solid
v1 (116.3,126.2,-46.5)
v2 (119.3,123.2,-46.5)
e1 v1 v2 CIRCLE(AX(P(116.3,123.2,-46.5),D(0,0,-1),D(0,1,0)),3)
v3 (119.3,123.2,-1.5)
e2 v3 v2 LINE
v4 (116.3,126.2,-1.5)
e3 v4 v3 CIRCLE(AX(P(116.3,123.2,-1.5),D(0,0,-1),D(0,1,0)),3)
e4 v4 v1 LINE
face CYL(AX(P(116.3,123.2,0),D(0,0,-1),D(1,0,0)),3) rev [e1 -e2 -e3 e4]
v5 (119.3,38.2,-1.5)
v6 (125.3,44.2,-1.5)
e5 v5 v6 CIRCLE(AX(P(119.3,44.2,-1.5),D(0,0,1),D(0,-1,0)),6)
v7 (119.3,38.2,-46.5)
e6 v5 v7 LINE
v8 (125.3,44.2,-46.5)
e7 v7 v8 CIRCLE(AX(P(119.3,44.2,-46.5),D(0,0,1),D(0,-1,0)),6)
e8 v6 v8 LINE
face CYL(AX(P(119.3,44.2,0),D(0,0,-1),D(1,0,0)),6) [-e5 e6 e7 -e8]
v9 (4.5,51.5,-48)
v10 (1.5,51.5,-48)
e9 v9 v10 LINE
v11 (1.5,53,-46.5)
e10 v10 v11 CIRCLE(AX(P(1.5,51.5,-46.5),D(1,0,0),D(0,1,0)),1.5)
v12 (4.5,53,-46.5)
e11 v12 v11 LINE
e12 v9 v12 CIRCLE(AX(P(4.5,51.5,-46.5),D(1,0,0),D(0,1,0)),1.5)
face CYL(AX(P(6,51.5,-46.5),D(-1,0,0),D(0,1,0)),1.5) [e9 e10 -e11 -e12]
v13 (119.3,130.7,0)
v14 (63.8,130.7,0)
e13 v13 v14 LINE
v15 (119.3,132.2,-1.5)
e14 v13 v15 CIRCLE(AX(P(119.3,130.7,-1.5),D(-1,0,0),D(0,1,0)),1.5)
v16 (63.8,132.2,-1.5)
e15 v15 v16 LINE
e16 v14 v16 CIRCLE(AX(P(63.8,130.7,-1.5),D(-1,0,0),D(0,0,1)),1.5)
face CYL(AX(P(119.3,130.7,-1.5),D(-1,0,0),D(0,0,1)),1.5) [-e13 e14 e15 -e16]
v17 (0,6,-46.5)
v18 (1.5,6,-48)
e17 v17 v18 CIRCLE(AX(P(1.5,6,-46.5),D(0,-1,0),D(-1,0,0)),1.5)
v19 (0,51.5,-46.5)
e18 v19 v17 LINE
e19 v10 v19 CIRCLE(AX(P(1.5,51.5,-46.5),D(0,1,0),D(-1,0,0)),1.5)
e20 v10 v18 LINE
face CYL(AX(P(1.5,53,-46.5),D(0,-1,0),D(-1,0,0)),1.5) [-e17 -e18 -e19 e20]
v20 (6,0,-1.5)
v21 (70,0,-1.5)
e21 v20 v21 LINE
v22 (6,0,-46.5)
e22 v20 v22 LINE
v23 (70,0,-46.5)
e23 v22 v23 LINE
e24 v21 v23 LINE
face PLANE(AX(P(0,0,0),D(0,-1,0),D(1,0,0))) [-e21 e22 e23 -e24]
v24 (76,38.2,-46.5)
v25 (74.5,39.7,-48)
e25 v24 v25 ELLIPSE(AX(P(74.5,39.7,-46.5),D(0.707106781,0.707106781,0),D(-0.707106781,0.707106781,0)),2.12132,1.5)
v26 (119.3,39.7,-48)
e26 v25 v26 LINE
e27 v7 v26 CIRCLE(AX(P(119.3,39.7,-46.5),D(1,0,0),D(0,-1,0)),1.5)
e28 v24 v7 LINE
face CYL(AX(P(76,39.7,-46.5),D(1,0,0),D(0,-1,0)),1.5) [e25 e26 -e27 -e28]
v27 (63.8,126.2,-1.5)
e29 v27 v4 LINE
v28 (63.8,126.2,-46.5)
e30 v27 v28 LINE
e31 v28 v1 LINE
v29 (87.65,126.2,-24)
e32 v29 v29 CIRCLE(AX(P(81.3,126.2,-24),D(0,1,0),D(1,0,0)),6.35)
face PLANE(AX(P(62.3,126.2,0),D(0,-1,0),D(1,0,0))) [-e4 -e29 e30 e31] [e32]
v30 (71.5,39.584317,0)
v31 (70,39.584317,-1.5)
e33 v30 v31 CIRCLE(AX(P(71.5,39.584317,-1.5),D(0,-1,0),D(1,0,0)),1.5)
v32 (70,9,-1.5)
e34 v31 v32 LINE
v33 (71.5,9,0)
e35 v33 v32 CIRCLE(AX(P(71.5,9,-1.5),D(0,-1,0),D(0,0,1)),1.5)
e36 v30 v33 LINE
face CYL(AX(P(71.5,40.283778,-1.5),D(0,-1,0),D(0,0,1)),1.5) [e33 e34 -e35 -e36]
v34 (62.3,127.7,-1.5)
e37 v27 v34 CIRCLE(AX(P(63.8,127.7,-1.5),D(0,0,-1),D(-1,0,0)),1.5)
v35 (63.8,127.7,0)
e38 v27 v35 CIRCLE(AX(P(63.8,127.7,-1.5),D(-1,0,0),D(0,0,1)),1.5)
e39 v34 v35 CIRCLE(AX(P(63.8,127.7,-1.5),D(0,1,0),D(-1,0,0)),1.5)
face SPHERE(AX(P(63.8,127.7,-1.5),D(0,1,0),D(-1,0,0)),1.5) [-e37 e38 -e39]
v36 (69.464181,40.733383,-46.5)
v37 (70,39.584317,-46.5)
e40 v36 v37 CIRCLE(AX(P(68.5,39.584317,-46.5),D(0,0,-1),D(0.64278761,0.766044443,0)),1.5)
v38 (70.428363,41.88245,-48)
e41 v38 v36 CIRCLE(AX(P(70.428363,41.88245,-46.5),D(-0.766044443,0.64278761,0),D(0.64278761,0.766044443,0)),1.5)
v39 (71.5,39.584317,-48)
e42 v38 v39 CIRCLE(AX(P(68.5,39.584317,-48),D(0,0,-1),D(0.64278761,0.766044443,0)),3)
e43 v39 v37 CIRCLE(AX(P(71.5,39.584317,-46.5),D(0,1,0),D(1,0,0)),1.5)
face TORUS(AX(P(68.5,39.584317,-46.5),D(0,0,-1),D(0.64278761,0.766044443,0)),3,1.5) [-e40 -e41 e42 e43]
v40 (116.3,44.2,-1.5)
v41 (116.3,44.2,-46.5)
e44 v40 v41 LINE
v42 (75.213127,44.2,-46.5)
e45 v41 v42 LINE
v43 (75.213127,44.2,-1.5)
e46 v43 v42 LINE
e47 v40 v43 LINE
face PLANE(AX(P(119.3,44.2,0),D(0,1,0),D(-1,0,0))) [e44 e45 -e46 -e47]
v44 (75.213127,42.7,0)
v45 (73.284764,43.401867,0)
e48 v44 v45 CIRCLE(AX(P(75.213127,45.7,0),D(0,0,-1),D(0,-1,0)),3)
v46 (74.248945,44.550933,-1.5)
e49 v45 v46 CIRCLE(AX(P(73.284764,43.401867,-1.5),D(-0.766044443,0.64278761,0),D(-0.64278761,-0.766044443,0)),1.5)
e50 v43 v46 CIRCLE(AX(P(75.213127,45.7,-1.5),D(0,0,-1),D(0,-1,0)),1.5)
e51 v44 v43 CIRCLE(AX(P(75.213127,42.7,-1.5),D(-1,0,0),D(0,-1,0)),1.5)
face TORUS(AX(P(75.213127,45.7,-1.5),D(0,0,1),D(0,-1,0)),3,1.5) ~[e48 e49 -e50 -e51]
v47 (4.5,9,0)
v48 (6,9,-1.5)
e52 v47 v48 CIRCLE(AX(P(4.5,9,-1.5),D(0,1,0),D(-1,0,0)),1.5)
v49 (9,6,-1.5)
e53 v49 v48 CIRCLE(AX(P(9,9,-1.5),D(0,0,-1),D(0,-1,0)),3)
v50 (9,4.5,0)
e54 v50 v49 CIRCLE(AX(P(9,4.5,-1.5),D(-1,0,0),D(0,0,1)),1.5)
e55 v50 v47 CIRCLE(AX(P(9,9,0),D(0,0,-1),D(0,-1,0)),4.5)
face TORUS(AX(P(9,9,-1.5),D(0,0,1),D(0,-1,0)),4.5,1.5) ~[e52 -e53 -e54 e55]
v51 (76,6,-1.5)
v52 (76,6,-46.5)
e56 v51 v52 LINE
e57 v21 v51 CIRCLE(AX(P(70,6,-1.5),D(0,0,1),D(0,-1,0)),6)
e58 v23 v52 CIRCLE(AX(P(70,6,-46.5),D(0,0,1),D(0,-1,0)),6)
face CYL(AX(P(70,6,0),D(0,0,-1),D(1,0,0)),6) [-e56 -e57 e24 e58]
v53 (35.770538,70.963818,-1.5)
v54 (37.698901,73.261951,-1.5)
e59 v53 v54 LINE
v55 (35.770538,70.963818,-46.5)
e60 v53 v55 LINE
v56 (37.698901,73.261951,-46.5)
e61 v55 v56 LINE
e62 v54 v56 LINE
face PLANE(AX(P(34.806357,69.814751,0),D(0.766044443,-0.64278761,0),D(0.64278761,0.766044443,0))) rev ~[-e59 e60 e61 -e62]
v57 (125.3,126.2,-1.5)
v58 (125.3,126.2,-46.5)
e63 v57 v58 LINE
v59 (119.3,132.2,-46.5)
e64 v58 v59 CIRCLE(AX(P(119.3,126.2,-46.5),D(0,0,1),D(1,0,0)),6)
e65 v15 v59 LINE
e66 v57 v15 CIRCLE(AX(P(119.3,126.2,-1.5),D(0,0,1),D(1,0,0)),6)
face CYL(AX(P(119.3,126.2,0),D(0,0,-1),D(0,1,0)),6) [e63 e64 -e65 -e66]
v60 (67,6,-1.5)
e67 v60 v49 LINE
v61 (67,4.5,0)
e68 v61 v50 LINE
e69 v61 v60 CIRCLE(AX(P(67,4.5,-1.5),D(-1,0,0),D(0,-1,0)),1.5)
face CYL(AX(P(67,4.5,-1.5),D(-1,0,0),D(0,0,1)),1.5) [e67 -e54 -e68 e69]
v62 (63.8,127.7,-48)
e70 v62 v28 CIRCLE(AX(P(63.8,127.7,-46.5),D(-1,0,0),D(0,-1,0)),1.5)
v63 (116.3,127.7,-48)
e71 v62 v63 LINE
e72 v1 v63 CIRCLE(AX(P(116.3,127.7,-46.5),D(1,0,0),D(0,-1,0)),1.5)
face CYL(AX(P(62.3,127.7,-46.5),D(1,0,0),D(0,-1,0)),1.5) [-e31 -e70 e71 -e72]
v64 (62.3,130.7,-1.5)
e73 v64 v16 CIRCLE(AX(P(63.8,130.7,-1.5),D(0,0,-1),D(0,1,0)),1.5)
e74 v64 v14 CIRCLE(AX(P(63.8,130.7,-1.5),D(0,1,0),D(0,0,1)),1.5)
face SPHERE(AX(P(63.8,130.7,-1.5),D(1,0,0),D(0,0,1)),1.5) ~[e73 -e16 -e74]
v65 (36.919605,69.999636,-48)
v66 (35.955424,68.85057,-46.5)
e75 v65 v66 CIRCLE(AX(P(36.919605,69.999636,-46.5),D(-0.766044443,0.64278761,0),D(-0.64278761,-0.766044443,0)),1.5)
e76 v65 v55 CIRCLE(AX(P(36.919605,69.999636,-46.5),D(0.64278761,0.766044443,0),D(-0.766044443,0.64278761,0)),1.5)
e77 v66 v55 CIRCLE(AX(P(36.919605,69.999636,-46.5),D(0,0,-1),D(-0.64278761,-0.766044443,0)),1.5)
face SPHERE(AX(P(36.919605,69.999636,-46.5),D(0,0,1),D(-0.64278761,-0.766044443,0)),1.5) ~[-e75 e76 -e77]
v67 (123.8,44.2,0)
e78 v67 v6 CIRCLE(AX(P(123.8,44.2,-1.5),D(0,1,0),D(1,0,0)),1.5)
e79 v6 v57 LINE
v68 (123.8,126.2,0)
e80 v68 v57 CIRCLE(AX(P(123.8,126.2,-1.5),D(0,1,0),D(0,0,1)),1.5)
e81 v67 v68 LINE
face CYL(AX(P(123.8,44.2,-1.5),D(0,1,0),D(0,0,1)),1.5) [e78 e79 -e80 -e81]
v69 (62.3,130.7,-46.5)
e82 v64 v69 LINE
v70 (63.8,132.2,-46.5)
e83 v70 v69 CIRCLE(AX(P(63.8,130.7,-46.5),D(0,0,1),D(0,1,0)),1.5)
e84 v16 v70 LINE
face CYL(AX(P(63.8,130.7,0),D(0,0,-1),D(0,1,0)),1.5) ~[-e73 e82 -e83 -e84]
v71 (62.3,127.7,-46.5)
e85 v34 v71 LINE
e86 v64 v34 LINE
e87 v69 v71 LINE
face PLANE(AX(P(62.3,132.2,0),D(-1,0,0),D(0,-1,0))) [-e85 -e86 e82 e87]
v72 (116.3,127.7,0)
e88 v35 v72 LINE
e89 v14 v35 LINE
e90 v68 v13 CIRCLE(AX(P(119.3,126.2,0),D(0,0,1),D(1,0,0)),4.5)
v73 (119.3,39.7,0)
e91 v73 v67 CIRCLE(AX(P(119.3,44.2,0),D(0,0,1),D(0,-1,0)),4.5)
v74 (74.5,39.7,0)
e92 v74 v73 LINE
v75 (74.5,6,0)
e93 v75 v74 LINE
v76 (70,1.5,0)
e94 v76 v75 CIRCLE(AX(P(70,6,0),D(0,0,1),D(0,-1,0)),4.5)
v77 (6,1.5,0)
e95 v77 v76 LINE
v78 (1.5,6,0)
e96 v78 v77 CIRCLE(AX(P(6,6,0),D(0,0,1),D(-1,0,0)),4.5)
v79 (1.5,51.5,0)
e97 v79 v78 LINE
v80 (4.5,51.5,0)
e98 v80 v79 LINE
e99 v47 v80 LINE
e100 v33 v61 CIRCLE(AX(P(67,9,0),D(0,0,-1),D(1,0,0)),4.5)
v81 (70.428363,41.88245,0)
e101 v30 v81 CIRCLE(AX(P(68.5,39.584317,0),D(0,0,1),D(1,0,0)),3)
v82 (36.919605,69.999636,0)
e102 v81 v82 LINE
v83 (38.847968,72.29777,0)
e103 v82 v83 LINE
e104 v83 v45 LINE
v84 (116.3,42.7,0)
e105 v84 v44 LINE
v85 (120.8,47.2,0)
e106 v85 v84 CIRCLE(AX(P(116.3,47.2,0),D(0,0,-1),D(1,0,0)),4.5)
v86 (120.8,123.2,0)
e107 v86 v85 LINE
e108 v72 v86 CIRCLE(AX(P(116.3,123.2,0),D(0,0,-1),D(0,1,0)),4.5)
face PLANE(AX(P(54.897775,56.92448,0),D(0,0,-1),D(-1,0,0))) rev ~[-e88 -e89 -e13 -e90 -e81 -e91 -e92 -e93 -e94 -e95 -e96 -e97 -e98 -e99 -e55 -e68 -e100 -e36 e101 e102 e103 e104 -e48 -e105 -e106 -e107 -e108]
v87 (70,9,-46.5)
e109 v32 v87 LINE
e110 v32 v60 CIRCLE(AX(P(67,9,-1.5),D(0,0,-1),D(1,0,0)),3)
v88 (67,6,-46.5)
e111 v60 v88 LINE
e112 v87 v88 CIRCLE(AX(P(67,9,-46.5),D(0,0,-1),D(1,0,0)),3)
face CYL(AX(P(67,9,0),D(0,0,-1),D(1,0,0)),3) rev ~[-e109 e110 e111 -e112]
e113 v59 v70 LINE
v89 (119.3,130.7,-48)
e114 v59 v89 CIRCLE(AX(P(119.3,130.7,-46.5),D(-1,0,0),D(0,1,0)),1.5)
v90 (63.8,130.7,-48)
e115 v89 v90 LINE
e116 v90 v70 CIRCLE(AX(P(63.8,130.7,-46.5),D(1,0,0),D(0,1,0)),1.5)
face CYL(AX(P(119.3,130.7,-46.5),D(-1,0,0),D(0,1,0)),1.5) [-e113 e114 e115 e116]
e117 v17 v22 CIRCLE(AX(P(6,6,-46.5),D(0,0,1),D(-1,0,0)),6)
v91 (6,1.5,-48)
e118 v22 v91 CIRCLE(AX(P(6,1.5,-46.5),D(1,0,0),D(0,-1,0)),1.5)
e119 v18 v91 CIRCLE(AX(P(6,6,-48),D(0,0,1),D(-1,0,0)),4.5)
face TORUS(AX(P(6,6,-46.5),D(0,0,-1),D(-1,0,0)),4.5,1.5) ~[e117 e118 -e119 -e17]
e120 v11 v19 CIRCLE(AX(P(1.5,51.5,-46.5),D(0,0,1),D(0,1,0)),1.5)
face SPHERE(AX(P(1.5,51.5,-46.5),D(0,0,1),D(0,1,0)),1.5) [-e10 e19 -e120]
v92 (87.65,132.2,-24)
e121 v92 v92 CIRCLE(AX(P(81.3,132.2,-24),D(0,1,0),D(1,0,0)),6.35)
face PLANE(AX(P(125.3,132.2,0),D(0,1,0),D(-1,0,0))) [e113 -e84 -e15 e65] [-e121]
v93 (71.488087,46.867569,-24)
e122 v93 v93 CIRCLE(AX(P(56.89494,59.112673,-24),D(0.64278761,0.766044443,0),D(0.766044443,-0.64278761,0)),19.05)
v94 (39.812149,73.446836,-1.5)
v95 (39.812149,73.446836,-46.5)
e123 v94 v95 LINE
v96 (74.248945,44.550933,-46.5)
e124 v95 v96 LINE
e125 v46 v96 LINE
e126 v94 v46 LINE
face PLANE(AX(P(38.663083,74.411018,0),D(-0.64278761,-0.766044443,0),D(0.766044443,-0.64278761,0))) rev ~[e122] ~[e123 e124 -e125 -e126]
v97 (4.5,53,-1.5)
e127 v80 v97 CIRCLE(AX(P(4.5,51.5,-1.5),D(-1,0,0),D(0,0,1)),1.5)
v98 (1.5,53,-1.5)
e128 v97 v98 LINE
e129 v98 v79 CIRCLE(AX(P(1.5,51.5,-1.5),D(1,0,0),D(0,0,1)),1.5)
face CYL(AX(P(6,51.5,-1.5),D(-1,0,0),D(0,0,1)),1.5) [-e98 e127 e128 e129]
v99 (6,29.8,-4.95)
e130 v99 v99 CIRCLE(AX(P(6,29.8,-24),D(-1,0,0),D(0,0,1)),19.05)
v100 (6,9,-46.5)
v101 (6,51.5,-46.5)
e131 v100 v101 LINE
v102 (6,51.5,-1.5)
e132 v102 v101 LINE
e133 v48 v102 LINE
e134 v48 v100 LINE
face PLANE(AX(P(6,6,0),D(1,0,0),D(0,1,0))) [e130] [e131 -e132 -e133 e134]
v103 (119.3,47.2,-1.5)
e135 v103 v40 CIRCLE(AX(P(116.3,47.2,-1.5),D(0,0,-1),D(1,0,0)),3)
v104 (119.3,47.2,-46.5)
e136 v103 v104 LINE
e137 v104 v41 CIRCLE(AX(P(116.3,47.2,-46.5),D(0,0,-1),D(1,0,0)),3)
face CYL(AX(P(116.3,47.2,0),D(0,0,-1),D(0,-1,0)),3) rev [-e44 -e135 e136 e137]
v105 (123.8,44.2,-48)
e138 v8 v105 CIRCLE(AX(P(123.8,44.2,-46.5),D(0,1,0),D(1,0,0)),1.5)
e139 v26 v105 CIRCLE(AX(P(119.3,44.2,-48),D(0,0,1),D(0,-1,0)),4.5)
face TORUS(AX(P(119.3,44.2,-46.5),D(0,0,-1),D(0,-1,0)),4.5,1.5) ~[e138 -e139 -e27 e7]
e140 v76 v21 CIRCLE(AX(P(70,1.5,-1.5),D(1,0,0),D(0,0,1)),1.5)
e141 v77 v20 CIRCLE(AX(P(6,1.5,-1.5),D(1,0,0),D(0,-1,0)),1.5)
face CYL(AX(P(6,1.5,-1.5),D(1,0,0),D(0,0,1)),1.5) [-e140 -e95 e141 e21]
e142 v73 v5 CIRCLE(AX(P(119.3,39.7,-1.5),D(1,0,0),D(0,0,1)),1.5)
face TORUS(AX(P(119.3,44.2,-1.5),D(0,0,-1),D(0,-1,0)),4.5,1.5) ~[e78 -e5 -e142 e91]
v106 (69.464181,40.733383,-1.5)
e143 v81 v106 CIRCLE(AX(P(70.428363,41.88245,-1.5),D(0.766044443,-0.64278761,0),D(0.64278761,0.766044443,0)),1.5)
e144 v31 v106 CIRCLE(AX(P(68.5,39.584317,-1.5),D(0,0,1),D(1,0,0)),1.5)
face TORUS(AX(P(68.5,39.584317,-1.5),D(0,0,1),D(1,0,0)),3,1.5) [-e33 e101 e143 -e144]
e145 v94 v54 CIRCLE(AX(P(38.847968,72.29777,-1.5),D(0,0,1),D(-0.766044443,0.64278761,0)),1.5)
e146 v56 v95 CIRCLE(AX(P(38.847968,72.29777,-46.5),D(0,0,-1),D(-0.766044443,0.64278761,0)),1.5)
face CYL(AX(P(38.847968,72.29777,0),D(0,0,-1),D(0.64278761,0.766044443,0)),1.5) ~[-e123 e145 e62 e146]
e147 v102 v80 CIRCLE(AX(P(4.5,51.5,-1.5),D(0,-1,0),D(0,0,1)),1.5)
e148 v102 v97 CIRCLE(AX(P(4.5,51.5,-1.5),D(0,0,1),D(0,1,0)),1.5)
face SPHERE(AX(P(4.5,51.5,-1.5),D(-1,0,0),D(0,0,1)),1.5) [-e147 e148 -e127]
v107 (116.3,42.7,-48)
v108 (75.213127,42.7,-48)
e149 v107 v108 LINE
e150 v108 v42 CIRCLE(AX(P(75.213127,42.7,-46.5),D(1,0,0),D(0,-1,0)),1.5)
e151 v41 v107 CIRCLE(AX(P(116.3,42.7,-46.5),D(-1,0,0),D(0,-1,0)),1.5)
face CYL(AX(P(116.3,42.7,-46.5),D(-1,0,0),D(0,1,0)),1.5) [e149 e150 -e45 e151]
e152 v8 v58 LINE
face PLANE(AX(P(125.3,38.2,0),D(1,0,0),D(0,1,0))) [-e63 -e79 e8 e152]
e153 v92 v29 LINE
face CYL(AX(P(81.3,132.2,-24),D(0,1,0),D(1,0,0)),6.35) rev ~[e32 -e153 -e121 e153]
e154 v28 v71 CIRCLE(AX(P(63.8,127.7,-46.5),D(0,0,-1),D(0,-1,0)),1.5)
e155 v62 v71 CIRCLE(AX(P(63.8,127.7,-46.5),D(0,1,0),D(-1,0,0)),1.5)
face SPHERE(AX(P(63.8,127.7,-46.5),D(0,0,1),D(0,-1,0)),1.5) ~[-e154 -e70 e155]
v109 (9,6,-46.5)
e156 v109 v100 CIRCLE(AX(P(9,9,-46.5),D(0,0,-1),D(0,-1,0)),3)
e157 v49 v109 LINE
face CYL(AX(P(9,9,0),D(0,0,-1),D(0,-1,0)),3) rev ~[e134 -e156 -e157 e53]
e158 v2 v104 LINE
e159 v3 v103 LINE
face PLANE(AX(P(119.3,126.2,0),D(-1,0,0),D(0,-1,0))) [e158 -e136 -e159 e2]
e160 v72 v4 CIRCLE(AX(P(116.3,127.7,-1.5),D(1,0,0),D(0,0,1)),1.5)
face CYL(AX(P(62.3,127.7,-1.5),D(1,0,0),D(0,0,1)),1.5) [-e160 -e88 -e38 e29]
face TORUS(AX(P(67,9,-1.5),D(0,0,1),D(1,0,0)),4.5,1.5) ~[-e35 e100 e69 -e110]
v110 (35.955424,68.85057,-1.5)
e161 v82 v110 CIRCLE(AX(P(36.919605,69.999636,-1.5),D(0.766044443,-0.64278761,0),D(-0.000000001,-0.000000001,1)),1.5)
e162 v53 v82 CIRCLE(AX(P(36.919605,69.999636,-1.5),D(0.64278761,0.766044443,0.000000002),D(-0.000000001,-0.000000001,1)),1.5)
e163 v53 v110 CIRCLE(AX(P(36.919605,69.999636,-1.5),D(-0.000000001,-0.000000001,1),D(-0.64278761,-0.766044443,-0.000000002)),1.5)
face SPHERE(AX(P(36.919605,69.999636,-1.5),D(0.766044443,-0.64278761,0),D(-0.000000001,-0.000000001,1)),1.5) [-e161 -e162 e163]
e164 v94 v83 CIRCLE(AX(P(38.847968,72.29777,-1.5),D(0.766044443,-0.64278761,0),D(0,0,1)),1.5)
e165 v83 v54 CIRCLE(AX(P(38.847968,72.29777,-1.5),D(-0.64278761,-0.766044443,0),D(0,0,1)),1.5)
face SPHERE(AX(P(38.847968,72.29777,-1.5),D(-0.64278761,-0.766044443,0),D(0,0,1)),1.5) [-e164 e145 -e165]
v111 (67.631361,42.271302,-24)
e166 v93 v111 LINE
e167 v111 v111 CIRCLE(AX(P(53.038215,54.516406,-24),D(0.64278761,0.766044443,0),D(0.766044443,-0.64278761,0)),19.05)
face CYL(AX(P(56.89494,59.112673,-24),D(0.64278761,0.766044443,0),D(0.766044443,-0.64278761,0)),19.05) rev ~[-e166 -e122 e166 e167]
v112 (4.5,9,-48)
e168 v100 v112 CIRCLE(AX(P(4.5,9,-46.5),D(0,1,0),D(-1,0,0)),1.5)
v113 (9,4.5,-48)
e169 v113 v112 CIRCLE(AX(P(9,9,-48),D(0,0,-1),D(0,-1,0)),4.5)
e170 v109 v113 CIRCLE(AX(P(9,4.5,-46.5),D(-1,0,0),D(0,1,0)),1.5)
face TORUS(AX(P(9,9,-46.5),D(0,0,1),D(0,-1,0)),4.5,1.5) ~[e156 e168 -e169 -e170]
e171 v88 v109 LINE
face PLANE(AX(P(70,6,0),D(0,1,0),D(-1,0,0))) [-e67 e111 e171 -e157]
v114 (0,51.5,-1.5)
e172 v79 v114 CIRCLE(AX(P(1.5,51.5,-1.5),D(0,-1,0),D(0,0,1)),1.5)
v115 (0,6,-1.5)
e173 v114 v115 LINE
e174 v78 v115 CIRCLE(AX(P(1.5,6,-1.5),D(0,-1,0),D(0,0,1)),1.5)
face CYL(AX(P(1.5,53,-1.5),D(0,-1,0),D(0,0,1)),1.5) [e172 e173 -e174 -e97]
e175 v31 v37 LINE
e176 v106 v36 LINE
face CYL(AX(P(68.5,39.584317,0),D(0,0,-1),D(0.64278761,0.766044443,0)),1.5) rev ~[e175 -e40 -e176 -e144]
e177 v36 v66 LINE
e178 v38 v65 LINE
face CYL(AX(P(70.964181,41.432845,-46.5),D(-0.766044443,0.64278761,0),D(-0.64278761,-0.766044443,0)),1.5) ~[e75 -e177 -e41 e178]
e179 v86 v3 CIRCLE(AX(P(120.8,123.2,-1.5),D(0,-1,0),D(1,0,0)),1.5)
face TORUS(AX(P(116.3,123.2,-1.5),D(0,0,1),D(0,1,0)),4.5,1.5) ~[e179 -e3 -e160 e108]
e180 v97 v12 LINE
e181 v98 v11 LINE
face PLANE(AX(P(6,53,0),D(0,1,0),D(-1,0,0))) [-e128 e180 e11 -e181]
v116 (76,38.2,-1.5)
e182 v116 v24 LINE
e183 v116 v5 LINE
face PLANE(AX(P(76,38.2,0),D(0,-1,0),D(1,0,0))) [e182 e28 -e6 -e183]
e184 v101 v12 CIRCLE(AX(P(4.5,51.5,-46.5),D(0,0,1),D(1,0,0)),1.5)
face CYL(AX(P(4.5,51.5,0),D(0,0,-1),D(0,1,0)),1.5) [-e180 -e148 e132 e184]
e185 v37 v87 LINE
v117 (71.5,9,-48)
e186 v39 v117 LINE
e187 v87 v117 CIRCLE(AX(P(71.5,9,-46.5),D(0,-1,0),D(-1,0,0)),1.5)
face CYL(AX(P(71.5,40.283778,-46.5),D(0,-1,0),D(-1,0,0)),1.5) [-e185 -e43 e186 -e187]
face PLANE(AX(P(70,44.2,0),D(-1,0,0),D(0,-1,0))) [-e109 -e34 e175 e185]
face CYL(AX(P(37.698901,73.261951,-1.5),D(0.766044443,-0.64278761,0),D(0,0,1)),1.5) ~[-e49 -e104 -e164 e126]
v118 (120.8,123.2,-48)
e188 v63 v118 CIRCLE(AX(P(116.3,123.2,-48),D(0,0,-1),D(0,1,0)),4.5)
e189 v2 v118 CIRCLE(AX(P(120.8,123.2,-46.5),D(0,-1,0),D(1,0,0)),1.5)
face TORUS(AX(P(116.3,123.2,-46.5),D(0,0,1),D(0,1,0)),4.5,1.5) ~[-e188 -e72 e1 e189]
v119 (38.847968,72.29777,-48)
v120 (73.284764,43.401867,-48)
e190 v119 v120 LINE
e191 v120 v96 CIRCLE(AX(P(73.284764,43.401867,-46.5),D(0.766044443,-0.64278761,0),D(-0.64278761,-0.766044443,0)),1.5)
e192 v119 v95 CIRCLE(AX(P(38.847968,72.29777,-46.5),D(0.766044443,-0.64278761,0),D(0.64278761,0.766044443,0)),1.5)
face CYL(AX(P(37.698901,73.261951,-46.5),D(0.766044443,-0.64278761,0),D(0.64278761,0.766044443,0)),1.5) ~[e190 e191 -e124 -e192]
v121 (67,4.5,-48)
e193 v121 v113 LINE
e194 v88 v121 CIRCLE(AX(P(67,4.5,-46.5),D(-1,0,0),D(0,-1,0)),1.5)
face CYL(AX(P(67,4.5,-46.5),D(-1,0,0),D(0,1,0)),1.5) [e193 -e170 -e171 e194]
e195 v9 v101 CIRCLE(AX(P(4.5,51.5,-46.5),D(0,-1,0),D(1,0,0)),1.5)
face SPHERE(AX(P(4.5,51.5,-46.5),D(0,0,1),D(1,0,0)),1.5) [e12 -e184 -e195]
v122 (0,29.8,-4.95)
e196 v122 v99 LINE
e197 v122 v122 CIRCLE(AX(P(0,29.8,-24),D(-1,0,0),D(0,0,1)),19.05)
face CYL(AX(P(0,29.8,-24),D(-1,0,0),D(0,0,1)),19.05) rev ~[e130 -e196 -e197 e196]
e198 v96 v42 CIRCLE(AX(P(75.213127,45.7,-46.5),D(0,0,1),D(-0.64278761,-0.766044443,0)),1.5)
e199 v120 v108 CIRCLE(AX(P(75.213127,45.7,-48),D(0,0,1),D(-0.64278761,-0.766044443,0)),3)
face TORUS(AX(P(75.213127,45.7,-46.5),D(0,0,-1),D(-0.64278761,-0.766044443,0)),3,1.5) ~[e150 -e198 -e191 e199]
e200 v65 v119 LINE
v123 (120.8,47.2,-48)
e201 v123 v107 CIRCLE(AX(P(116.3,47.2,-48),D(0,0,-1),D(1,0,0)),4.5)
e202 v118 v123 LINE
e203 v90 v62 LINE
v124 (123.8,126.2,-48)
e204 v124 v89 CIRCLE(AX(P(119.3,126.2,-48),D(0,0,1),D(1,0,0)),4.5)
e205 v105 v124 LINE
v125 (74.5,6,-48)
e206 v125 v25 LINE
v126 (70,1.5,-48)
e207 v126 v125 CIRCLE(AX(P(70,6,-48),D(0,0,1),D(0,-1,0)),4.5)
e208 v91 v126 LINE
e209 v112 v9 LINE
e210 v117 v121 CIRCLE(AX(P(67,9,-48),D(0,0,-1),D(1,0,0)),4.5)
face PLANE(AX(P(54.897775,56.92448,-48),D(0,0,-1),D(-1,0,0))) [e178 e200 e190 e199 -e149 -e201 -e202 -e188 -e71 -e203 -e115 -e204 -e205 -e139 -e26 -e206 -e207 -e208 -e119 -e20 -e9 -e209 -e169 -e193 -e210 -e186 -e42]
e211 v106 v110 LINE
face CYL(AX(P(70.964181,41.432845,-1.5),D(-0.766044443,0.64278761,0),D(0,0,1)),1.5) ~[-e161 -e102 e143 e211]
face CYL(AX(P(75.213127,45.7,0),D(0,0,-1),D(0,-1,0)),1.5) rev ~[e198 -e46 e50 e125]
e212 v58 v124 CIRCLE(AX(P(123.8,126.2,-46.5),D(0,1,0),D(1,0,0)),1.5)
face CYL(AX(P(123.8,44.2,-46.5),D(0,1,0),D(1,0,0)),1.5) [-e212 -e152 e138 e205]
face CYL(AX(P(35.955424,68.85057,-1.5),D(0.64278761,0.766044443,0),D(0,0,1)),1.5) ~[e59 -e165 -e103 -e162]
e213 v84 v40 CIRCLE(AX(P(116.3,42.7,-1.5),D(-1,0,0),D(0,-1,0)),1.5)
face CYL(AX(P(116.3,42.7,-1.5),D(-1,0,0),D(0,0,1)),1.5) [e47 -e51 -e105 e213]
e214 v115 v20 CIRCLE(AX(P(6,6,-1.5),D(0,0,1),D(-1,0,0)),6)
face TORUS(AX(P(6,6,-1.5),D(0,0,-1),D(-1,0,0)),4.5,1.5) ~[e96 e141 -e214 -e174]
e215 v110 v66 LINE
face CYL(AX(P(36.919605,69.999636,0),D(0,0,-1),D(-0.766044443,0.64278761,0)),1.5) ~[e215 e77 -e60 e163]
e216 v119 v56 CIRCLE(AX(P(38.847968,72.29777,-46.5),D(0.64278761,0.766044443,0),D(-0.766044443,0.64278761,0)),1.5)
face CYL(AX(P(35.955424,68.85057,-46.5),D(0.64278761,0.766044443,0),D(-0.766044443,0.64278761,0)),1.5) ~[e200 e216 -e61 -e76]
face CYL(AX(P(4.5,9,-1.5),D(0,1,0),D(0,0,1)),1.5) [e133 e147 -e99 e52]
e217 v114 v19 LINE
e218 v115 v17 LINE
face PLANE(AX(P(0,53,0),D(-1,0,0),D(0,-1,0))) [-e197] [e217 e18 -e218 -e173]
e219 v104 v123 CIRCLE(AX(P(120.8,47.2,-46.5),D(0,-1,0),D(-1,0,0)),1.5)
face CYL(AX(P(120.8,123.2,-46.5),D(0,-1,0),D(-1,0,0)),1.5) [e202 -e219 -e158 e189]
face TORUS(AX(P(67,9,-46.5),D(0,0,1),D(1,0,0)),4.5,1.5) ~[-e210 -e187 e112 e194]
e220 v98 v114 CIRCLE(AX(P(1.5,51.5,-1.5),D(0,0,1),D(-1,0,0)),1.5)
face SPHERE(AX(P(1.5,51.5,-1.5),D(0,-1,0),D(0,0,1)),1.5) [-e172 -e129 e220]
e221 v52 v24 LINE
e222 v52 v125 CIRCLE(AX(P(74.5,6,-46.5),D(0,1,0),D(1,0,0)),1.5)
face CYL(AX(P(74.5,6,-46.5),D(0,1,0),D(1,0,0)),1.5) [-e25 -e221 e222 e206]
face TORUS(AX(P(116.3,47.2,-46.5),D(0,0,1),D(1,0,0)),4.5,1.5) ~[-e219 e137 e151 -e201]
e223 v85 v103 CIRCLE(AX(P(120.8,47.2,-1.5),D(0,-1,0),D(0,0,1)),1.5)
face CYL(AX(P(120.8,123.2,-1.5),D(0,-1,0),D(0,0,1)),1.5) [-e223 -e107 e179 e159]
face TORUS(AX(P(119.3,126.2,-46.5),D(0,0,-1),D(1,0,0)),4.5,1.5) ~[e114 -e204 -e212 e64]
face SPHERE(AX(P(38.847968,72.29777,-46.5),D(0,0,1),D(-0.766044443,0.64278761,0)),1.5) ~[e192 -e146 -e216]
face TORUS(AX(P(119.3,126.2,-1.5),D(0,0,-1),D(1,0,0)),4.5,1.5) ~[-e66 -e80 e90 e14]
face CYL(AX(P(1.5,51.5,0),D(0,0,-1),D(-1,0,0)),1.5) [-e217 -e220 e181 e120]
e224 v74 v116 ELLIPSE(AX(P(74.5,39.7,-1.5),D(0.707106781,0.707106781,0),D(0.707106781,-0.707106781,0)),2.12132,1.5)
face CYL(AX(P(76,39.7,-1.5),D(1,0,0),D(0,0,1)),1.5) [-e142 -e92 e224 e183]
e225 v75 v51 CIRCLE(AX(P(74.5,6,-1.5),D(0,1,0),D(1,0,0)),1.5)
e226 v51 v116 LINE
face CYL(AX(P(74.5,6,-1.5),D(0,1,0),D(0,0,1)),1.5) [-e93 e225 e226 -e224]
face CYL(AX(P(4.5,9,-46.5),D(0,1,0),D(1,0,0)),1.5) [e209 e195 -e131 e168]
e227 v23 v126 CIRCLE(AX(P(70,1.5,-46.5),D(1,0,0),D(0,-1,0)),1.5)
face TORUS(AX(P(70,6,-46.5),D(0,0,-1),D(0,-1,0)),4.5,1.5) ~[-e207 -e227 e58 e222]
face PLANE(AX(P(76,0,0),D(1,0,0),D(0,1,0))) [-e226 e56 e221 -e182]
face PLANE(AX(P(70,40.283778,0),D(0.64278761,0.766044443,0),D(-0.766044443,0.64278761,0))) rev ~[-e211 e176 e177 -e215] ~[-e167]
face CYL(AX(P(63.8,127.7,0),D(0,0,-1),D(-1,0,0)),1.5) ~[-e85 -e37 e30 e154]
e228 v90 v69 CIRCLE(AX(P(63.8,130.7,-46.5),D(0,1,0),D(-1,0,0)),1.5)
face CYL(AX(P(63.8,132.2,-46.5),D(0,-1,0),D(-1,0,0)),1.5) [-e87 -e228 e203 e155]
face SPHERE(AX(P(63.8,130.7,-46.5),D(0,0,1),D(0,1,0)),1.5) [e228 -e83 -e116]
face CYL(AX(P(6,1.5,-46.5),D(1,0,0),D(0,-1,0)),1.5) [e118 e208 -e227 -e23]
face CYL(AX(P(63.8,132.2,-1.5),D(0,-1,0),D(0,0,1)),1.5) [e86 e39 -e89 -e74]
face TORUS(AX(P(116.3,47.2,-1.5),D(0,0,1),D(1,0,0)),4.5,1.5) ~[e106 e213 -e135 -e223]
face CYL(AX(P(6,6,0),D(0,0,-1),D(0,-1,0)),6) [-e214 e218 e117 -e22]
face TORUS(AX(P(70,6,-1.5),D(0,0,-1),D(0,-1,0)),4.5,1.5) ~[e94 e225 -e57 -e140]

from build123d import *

# Parameters (mm, degrees)
EXTRUDE_THIN1_DEPTH = 48
BOSS_EXTRUDE1_DEPTH = 48
SKETCH3_R           = 19.05
CUT_EXTRUDE1_DEPTH  = 6
FILLET6_R           = 3
FILLET7_R           = 6
FILLET8_R           = 1.5
SKETCH4_R           = 6.35
CUT_EXTRUDE2_DEPTH  = 6
SKETCH5_R           = 19.05
CUT_EXTRUDE3_DEPTH  = 6


with BuildPart() as part:
    # Sketch1 → Extrude-Thin1 (new body)
    with BuildSketch(Plane.XY):
        Polygon((0, 53), (0, 0), (76, 0), (76, 38.2), (125.3, 38.2), (125.3, 132.2), (62.3, 132.2), (62.3, 126.2), (119.3, 126.2), (119.3, 44.2), (70, 44.2), (70, 6), (6, 6), (6, 53), align=None)
    extrude(amount=-EXTRUDE_THIN1_DEPTH)

    # Sketch2 → Boss-Extrude1 (add)
    with BuildSketch(Plane.XY):
        Polygon((70, 40.283778132), (34.806356996, 69.814750997), (38.663082654, 74.411017655), (74.667171481, 44.2), (70, 44.2), align=None)
    extrude(amount=-BOSS_EXTRUDE1_DEPTH)

    # Sketch3 → Cut-Extrude1 (cut)
    with BuildSketch(Plane.ZY):
        with Locations((-24, 29.8)):
            Circle(SKETCH3_R)
    extrude(amount=-CUT_EXTRUDE1_DEPTH, mode=Mode.SUBTRACT)

    # Fillet6
    fillet6_edges = [part.edges().sort_by_distance(p)[0] for p in [
        (6, 6, -24),
        (70, 6, -24),
        (119.3, 44.2, -24),
        (119.3, 126.2, -24),
    ]]
    fillet(fillet6_edges, radius=FILLET6_R)

    # Fillet7
    fillet7_edges = [part.edges().sort_by_distance(p)[0] for p in [
        (125.3, 132.2, -24),
        (125.3, 38.2, -24),
        (76, 0, -24),
        (0, 0, -24),
    ]]
    fillet(fillet7_edges, radius=FILLET7_R)

    # Fillet8
    fillet8_edges = [part.edges().sort_by_distance(p)[0] for p in [
        (97.65, 38.2, 0),
        (0, 29.5, 0),
        (3, 53, 0),
        (6, 31, 0),
        (62.3, 129.2, 0),
        (0, 53, -24),
        (6, 53, -24),
        (62.3, 126.2, -24),
        (62.3, 132.2, -24),
        (6, 31, -48),
        (3, 53, -48),
        (0, 29.5, -48),
        (95.48358574, 44.2, 0),
        (95.48358574, 44.2, -48),
        (52.403178498, 55.049264564, 0),
        (70, 40.283778132, -24),
        (36.734719825, 72.112884326, 0),
        (34.806356996, 69.814750997, -24),
        (56.665127067, 59.305508828, 0),
        (38.663082654, 74.411017655, -24),
        (74.667171481, 44.2, -24),
        (52.403178498, 55.049264564, -48),
        (36.734719825, 72.112884326, -48),
        (56.665127067, 59.305508828, -48),
        (97.65, 38.2, -48),
        (89.3, 126.2, 0),
        (89.3, 126.2, -48),
        (119.3, 85.2, 0),
        (119.3, 85.2, -48),
        (70, 24.641889066, -48),
        (70, 24.641889066, 0),
        (38, 6, 0),
        (38, 6, -48),
        (118.421320344, 125.321320344, 0),
        (118.421320344, 125.321320344, -48),
        (118.421320344, 45.078679656, 0),
        (118.421320344, 45.078679656, -48),
        (69.121320344, 6.878679656, 0),
        (69.121320344, 6.878679656, -48),
        (6.878679656, 6.878679656, 0),
        (6.878679656, 6.878679656, -48),
        (62.3, 129.2, -48),
        (125.3, 85.2, 0),
        (125.3, 85.2, -48),
        (38, 0, 0),
        (76, 22.1, 0),
        (90.8, 132.2, 0),
        (1.757359313, 1.757359313, 0),
        (74.242640687, 1.757359313, 0),
        (123.542640687, 39.957359313, 0),
        (123.542640687, 130.442640687, 0),
        (90.8, 132.2, -48),
        (76, 22.1, -48),
        (38, 0, -48),
        (1.757359313, 1.757359313, -48),
        (74.242640687, 1.757359313, -48),
        (123.542640687, 39.957359313, -48),
        (123.542640687, 130.442640687, -48),
    ]]
    fillet(fillet8_edges, radius=FILLET8_R)

    # Sketch4 → Cut-Extrude2 (cut)
    with BuildSketch(Plane(origin=(0, 132.2, 0), x_dir=(1, 0, 0), z_dir=(0, 1, 0))):
        with Locations((81.3, 24)):
            Circle(SKETCH4_R)
    extrude(amount=-CUT_EXTRUDE2_DEPTH, mode=Mode.SUBTRACT)

    # Sketch5 → Cut-Extrude3 (cut)
    with BuildSketch(Plane(origin=(52.614927952, 62.704029411, 0), x_dir=(0.766044443, -0.64278761, 0), z_dir=(0.64278761, 0.766044443, 0))):
        with Locations((5.587159448, 24)):
            Circle(SKETCH5_R)
    extrude(amount=-CUT_EXTRUDE3_DEPTH, mode=Mode.SUBTRACT)


solid = part.part
